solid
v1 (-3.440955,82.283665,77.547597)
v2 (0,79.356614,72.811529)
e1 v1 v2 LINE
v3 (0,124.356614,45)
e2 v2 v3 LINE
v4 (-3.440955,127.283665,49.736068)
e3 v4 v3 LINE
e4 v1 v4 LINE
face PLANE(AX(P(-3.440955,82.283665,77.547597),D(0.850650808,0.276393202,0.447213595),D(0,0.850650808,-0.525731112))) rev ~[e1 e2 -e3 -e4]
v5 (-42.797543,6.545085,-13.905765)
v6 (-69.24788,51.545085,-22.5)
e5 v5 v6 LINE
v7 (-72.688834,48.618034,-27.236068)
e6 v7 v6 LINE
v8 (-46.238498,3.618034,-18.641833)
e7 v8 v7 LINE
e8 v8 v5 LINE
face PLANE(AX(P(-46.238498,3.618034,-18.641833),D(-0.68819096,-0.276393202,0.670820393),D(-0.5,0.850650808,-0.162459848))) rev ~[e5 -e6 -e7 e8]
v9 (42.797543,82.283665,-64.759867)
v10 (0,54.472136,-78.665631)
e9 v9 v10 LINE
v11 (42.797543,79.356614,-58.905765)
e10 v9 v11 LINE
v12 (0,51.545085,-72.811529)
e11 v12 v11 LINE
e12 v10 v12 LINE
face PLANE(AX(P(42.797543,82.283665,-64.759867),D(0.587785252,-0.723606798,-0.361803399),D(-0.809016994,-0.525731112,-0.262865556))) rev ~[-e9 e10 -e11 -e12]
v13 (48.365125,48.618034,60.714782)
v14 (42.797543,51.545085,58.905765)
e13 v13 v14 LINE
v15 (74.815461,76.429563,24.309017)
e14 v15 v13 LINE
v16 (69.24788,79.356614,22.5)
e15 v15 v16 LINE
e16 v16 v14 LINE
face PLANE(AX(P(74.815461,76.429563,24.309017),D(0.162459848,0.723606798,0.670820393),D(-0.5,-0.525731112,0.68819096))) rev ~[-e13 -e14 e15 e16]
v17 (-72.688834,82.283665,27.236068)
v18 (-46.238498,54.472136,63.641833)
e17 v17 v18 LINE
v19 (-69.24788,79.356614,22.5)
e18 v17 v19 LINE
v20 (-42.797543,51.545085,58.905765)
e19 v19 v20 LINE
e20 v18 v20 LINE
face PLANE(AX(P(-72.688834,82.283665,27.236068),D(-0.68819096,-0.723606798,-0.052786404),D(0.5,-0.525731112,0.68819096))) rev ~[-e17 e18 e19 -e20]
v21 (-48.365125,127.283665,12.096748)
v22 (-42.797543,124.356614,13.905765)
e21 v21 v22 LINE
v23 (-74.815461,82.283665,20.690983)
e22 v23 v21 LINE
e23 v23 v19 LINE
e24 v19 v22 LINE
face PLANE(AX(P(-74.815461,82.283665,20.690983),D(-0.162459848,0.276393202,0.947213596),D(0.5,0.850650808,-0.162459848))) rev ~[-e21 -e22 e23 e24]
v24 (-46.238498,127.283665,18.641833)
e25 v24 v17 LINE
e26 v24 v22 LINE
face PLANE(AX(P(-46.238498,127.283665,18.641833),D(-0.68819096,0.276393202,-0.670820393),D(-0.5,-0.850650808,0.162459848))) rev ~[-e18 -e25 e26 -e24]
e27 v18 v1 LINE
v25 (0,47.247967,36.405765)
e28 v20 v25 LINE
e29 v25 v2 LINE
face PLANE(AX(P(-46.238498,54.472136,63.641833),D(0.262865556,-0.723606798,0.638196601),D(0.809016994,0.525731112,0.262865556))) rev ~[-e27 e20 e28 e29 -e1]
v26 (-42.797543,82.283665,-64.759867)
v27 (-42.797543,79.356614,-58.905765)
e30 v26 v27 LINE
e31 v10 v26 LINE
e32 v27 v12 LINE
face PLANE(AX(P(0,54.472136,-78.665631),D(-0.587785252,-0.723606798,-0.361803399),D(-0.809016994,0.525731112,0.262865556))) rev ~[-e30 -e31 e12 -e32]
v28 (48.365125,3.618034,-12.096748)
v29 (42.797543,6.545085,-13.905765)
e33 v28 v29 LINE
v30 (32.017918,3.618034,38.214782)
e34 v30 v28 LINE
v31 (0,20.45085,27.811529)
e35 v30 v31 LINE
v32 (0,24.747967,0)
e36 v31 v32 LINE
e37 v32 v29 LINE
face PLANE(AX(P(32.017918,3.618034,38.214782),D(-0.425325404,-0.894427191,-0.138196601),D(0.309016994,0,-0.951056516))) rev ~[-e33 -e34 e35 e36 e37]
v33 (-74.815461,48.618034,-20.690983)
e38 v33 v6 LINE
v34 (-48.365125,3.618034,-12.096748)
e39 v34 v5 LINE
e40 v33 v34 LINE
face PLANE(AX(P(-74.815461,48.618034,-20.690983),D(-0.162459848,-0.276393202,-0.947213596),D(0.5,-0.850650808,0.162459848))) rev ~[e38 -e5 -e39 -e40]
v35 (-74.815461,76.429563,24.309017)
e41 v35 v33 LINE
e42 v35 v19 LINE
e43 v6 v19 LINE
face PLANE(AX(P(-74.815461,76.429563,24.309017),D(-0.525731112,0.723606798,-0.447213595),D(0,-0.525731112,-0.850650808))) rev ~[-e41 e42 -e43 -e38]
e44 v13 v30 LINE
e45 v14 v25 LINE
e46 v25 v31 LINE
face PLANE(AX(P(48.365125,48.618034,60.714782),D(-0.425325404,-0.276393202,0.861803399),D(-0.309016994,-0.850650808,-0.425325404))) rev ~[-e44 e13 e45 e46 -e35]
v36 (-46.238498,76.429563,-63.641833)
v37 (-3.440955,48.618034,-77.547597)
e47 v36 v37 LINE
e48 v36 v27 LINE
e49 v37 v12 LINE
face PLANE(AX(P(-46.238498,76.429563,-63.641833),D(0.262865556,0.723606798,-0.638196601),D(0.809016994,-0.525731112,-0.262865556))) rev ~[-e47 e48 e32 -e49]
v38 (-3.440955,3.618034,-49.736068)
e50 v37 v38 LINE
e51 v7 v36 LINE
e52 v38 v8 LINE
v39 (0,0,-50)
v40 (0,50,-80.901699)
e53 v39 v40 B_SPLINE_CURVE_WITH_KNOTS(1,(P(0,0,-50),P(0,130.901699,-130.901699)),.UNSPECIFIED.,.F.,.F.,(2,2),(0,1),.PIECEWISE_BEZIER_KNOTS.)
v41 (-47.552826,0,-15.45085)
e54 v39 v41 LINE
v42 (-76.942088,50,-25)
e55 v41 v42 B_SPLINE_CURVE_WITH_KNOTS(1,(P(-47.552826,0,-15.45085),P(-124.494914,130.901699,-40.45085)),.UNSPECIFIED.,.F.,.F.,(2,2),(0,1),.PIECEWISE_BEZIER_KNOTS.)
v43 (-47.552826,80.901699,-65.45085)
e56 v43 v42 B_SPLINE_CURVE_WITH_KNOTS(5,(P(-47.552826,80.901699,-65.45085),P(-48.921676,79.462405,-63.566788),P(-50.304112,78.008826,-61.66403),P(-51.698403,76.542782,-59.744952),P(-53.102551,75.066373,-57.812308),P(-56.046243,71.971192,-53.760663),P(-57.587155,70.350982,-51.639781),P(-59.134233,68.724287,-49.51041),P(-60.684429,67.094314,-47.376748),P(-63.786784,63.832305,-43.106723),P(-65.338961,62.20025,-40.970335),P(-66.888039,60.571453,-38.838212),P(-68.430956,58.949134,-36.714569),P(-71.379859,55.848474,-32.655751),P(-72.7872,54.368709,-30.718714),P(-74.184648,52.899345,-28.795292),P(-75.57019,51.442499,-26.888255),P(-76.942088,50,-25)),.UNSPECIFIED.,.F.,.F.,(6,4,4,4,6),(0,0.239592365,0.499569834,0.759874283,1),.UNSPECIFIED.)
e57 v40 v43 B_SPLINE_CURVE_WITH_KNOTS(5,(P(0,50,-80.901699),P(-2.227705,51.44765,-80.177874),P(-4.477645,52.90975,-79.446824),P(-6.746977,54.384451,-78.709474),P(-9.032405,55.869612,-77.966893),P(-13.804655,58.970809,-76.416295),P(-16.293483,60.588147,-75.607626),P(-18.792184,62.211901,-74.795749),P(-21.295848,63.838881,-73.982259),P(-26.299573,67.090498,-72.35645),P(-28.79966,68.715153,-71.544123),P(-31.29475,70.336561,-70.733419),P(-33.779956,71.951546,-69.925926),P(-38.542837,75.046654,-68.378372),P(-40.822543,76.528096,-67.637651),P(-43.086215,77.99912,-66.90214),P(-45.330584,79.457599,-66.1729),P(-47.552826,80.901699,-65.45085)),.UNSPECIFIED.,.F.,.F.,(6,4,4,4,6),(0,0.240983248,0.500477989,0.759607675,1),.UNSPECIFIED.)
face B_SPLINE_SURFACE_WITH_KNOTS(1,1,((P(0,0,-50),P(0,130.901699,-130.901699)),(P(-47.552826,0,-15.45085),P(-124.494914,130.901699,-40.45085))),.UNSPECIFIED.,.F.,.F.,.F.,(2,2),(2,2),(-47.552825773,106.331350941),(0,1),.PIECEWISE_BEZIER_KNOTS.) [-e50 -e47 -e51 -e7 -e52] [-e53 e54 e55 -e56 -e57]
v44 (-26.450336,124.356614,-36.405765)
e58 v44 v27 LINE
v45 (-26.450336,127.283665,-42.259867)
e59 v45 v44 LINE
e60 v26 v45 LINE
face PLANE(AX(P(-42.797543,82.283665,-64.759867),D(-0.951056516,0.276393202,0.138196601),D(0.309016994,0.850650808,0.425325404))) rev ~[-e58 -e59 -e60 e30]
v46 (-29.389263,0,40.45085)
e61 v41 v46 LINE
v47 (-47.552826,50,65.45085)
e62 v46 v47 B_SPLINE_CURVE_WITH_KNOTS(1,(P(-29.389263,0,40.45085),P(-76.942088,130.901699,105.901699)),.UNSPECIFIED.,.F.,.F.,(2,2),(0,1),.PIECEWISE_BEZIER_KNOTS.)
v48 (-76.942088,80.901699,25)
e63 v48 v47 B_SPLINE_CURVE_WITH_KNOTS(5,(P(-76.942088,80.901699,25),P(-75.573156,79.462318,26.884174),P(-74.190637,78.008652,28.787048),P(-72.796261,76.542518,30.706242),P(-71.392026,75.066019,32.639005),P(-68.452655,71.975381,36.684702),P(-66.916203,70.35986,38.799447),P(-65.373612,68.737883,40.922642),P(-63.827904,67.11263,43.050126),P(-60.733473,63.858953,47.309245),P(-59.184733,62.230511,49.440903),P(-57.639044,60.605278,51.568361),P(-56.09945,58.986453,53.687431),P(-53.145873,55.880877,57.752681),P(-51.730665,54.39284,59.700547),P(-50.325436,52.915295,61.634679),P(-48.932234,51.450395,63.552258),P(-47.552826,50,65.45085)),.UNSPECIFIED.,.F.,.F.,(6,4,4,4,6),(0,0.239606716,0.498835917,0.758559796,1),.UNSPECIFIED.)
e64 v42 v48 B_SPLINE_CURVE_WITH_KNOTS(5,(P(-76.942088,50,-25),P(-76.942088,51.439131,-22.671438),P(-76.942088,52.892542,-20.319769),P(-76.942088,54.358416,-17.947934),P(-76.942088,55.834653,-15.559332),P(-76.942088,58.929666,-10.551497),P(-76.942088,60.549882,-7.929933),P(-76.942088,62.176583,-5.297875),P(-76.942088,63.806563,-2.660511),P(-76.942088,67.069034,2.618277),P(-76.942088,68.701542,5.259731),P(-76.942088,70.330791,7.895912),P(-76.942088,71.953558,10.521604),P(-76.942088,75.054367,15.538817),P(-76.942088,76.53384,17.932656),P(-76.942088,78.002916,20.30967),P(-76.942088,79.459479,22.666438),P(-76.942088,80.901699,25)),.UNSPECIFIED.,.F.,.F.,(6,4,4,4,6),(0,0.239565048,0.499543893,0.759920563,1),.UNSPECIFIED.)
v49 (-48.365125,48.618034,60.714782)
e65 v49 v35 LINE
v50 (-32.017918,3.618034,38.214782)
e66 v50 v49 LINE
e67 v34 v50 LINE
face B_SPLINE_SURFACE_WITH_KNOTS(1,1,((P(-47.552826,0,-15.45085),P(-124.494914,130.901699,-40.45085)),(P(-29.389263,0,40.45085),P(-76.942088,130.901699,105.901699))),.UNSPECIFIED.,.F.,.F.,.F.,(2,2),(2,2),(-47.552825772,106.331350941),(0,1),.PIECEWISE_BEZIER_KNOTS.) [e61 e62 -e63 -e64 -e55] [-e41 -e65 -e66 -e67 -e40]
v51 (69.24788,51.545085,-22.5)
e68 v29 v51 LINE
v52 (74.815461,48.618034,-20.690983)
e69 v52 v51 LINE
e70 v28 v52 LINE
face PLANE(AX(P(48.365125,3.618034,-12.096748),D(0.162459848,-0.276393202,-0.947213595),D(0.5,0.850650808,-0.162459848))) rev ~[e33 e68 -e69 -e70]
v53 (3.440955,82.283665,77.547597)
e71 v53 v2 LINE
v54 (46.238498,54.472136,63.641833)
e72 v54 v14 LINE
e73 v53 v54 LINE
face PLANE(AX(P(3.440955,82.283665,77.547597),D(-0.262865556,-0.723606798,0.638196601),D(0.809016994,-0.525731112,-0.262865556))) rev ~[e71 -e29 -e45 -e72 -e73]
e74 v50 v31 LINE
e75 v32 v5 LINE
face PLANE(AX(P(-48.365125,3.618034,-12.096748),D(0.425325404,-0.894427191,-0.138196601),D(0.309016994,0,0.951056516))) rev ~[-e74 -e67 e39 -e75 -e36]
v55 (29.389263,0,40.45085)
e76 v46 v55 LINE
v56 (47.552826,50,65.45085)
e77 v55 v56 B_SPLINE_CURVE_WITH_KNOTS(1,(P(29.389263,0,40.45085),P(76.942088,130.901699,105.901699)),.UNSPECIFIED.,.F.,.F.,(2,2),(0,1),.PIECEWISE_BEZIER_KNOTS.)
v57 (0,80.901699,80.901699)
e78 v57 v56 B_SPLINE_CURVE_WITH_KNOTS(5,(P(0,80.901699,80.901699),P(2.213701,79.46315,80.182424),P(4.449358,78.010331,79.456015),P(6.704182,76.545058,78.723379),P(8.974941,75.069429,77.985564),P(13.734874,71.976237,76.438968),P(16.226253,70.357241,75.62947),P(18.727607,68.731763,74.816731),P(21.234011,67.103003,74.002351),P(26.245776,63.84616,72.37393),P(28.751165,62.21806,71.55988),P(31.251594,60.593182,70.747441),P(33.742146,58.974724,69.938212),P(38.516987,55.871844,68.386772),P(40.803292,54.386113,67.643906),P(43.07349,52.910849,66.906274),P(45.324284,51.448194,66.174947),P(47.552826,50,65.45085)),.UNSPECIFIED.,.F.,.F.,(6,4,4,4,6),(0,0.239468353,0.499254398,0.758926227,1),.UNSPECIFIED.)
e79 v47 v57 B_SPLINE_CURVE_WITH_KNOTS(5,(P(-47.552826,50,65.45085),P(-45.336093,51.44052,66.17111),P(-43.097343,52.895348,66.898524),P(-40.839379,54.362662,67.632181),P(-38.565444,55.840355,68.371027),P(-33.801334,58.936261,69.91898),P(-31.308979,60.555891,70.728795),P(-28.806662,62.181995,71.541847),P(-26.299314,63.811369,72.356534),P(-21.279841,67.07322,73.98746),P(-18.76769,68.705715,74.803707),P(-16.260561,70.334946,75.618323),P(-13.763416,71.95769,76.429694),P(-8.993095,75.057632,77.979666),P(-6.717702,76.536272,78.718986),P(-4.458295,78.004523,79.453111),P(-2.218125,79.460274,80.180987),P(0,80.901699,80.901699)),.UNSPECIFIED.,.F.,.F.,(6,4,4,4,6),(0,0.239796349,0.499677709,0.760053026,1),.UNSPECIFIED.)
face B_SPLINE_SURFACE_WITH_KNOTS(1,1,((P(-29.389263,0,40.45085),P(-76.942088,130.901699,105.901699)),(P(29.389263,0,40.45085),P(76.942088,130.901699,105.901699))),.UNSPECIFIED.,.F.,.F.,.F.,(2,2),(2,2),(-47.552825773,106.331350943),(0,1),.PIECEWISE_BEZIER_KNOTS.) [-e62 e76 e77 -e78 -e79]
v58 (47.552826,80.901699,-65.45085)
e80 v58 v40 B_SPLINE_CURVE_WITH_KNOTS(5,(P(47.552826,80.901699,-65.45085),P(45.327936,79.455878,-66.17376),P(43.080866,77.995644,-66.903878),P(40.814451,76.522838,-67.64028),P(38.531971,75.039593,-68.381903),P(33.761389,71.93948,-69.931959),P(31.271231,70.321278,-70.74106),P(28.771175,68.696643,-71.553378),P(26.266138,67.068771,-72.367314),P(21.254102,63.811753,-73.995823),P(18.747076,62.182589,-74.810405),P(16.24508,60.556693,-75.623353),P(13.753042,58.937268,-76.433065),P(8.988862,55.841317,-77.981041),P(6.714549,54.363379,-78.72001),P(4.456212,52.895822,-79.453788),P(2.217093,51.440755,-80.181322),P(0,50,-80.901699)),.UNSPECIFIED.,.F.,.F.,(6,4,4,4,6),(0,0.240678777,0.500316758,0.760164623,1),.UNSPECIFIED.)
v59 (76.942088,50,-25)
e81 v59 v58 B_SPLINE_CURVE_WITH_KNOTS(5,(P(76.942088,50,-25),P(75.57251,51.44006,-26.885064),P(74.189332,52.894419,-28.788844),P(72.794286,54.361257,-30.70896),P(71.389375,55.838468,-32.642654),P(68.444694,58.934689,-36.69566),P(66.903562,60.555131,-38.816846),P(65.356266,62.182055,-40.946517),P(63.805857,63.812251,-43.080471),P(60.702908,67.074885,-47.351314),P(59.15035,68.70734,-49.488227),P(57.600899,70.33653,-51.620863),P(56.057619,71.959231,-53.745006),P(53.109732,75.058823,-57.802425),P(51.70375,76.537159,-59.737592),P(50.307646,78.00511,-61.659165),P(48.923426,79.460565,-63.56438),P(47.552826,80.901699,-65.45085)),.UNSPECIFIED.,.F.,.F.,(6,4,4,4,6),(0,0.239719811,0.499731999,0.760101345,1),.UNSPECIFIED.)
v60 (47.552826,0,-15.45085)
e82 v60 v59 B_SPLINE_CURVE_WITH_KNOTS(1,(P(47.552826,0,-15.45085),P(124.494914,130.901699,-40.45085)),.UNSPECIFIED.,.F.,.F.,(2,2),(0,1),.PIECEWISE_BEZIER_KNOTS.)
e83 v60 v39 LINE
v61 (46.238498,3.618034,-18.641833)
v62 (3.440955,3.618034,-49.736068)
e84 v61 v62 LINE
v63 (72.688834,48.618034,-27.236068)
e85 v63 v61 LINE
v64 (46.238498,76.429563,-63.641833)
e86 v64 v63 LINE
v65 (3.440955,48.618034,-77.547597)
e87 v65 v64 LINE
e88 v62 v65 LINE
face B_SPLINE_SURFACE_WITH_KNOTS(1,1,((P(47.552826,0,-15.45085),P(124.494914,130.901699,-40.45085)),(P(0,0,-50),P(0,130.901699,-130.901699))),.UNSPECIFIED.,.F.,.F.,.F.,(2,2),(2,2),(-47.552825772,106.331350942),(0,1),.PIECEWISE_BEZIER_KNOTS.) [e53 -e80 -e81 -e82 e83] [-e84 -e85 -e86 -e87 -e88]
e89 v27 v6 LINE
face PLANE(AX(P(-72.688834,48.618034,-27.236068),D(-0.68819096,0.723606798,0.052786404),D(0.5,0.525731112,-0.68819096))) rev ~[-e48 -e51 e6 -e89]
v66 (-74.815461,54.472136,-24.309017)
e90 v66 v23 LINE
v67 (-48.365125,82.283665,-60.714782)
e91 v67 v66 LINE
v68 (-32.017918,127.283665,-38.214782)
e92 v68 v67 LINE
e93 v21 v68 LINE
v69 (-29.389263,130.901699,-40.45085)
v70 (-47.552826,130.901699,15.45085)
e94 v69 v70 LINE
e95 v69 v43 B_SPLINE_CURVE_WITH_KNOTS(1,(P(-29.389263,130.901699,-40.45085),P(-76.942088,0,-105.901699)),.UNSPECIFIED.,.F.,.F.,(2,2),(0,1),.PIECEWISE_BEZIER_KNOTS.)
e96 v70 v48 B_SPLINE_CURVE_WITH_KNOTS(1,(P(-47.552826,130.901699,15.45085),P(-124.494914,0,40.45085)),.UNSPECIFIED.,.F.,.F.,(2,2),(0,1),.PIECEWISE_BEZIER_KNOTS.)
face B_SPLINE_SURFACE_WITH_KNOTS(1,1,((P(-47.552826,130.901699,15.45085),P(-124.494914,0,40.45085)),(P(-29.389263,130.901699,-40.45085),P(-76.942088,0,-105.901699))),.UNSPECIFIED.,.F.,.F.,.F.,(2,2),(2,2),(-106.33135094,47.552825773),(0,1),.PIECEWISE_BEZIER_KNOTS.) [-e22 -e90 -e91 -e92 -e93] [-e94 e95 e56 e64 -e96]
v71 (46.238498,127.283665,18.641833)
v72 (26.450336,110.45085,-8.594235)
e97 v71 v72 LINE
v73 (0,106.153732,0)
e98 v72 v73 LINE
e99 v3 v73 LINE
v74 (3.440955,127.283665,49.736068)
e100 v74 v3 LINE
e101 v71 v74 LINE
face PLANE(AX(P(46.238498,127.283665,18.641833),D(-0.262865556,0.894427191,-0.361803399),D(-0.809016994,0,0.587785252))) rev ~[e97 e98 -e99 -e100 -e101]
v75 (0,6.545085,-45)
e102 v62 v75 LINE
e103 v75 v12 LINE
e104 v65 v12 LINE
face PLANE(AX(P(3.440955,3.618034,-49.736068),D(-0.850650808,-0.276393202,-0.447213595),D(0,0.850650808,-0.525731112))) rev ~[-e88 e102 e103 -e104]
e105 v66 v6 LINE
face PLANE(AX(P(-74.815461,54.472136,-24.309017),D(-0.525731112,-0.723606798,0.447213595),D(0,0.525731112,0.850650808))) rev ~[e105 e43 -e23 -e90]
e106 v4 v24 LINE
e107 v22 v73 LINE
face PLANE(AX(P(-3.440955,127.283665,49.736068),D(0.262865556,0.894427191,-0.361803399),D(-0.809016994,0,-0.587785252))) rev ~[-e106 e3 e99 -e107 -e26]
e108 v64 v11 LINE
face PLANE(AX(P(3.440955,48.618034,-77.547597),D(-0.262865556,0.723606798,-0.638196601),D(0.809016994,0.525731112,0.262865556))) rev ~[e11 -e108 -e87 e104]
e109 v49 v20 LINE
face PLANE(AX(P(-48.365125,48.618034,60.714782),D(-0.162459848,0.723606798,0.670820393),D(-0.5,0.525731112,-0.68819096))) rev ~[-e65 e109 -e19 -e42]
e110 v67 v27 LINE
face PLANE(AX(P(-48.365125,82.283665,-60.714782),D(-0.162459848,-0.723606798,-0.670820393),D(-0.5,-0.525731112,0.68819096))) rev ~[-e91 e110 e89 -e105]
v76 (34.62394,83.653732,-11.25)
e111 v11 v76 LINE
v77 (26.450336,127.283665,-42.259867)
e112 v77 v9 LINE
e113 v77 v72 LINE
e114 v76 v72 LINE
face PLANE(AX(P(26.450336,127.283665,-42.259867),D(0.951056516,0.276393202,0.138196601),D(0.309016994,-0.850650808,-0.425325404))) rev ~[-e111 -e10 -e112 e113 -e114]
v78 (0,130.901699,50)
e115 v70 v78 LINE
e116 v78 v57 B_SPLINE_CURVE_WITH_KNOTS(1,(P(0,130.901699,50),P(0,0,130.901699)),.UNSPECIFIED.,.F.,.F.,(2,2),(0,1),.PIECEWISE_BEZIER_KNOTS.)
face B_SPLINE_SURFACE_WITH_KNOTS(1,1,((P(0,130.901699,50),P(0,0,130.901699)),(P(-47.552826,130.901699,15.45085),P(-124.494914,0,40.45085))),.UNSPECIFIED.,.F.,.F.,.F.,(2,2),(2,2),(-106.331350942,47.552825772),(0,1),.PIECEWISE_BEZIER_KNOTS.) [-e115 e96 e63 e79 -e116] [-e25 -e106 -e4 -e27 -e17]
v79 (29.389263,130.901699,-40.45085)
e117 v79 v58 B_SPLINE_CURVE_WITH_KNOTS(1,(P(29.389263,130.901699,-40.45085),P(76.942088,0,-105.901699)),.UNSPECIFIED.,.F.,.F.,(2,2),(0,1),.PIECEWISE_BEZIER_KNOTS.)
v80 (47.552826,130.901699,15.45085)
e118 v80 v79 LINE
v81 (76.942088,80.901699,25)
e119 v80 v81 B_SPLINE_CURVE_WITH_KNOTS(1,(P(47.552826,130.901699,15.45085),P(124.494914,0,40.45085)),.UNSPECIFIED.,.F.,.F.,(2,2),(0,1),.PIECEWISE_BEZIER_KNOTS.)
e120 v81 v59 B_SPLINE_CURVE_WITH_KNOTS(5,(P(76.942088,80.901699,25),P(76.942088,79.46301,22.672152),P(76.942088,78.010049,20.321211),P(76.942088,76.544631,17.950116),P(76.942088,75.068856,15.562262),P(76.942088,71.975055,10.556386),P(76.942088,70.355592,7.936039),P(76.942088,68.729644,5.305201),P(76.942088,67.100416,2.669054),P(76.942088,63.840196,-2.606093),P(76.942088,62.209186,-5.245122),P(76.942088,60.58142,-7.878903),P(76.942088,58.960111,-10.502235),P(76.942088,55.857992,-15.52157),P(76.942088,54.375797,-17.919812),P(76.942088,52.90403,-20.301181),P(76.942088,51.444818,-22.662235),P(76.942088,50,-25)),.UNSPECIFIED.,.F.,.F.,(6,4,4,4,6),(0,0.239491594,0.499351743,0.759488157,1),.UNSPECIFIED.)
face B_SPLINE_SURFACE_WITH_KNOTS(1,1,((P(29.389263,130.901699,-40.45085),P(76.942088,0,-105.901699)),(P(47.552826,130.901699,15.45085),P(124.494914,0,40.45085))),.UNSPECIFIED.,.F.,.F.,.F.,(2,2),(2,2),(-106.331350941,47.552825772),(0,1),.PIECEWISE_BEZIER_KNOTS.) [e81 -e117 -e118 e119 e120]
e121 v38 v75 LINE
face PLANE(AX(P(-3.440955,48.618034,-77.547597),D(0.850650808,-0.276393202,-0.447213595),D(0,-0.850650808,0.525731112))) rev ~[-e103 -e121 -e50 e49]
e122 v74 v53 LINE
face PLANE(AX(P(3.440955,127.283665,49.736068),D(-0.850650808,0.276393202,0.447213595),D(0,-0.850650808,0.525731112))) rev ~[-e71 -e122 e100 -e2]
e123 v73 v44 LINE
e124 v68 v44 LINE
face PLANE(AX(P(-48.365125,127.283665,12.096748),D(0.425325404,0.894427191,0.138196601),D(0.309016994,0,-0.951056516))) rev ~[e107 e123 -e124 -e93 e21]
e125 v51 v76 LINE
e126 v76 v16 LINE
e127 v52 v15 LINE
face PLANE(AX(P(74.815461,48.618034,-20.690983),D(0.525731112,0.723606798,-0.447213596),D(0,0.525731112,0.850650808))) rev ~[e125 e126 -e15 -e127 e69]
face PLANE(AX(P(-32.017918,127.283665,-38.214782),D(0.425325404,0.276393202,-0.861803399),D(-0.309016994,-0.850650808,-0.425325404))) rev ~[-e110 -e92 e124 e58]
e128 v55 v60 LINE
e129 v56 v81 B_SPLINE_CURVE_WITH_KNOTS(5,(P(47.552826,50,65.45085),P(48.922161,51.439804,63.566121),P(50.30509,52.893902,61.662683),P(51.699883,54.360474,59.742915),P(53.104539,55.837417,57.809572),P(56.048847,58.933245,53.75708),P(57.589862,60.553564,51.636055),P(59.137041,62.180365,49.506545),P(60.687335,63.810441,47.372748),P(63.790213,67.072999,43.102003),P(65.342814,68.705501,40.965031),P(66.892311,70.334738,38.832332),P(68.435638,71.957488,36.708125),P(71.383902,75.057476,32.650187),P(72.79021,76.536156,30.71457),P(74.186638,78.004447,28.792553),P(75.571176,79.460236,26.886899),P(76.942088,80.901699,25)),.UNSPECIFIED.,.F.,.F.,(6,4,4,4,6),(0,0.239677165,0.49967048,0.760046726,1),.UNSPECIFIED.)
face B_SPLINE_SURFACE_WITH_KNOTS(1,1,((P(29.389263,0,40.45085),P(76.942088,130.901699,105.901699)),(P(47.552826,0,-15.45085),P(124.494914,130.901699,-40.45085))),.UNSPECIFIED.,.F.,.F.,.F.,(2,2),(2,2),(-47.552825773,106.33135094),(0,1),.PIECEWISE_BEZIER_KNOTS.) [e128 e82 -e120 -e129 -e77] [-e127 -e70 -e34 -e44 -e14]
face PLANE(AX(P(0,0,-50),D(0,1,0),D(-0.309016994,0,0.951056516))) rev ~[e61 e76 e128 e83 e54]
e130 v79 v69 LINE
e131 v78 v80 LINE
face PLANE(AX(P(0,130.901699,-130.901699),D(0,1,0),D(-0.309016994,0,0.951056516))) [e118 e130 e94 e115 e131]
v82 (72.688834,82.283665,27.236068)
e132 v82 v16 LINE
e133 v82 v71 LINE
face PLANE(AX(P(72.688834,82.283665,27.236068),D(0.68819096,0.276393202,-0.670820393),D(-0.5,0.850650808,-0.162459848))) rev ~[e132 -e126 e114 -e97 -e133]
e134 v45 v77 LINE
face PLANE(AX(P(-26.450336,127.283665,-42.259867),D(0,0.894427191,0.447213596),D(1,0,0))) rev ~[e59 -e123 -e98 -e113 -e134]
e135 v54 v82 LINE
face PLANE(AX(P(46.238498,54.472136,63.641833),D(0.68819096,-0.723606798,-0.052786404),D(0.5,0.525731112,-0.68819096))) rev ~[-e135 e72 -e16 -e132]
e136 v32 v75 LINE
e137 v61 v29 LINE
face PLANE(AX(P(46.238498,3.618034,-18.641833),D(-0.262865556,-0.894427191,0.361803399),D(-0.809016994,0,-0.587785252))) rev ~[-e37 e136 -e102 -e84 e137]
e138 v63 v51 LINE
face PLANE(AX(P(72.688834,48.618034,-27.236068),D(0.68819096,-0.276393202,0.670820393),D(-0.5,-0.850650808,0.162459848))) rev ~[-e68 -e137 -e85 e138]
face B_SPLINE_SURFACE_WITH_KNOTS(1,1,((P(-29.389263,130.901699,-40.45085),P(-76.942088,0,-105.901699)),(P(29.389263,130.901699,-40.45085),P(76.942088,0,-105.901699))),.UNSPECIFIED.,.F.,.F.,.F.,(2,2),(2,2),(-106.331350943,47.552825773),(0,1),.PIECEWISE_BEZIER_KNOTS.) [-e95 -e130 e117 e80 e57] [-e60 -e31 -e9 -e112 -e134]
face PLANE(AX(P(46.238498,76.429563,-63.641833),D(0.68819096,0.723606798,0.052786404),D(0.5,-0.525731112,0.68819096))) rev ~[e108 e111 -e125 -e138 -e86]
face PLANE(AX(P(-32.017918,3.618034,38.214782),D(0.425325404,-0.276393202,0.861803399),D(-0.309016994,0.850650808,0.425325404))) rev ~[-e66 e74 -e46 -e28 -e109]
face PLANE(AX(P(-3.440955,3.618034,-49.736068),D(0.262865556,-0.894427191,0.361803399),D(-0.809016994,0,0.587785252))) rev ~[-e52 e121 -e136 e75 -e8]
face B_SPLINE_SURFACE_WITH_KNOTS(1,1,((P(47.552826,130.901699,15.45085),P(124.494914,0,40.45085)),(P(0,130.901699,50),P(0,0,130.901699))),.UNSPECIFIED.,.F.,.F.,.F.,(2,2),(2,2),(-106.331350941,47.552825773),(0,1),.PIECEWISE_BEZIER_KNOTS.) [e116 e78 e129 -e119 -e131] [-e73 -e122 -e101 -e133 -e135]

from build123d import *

# Parameters (mm, degrees)
CREATION_EXTRUDE_DEPTH = 130.901699304
CREATION_EXTRUDE_TAPER = -26.56505118
SKETCH2_OUTSIDE_W      = 455.432
SKETCH2_OUTSIDE_H      = 443.246
CREATION_CUT_DEPTH     = 130.901699304
CREATION_CUT_TAPER     = 26.56505118
CUT_EXTRUDE_B_DEPTH    = 50.8
C_INV_DEPTH            = 50.8
CUT_EXTRUDE_D_DEPTH    = 50.8
D_INV_DEPTH            = 50.8
CUT_EXTRUDE_E_DEPTH    = 50.8
E_INV_DEPTH            = 50.8
CUT_EXTRUDE_F_DEPTH    = 50.8
F_INV_DEPTH            = 50.8


with BuildPart() as part:
    # Sketch1 → creation_extrude (new body)
    with BuildSketch(Plane(origin=(0, 0, 0), x_dir=(1, 0, 0), z_dir=(0, 1, 0))):
        Polygon((0, 49.999999949), (-47.552825766, 15.450849703), (-29.389262585, -40.450849677), (29.389262585, -40.450849677), (47.552825766, 15.450849703), align=None)
    extrude(amount=CREATION_EXTRUDE_DEPTH, taper=CREATION_EXTRUDE_TAPER)

    # Sketch2 outside → creation_cut (cut)
    with BuildSketch(Plane(origin=(0, 130.901699304, 0), x_dir=(1, 0, 0), z_dir=(0, 1, 0))):
        with Locations((0, 12.5)):
            Rectangle(SKETCH2_OUTSIDE_W, SKETCH2_OUTSIDE_H)
        Polygon((0, -49.999999949), (47.552825766, -15.450849703), (29.389262585, 40.450849677), (-29.389262585, 40.450849677), (-47.552825766, -15.450849703), align=None, mode=Mode.SUBTRACT)
    extrude(amount=-CREATION_CUT_DEPTH, taper=CREATION_CUT_TAPER, mode=Mode.SUBTRACT)

    # Sketch5 → Cut-Extrude B (cut)
    with BuildSketch(Plane(origin=(0, 42.360679738, -84.721359466), x_dir=(-1, 0, 0), z_dir=(-9.08060963965006e-15, 0.4472135955455734, -0.8944271909771081))):
        Polygon((-42.797543189, 44.635254864), (1e-09, 13.541019643), (42.79754319, 44.635254866), (26.450336325, 94.946784308), (-26.450336327, 94.946784307), align=None)
    extrude(amount=-CUT_EXTRUDE_B_DEPTH, mode=Mode.SUBTRACT)

    # Sketch8 → C_inv (cut)
    with BuildSketch(Plane(origin=(-30.776835339, -16.180339872, 9.999999989), x_dir=(0.2446443083020028, 0.12861712429362696, 0.9610446387935747), z_dir=(-0.8506508083303469, -0.4472135955455736, 0.27639320224297786))):
        Polygon((-31.935023341, 77.848060657), (-22.992425992, 25.708717357), (29.358450763, 18.101689683), (52.77047459, 65.539631327), (14.889024305, 102.464919293), align=None)
    extrude(amount=-C_INV_DEPTH, mode=Mode.SUBTRACT)

    # Sketch9 → Cut-Extrude D (cut)
    with BuildSketch(Plane(origin=(49.797965648, 42.360679738, 68.541019594), x_dir=(0.8506508083603209, -0.27639320226847824, -0.44721359547279954), z_dir=(0.5257311121057348, 0.44721359554557366, 0.7236067977315217))):
        Polygon((-4.184405192, 98.473361345), (-54.495934634, 82.126154482), (-54.495934634, 29.22548183), (-4.184405192, 12.878274966), (26.90983003, 55.675818156), align=None)
    extrude(amount=-CUT_EXTRUDE_D_DEPTH, mode=Mode.SUBTRACT)

    # Sketch10 → D_inv (cut)
    with BuildSketch(Plane(origin=(-19.021130306, -16.180339872, -26.180339859), x_dir=(-0.8506508083603233, 0.27639320226847536, 0.44721359547279665), z_dir=(-0.5257311121057309, -0.44721359554557344, -0.7236067977315247))):
        Polygon((31.995934659, 98.473361351), (-18.315594783, 82.126154488), (-18.315594783, 29.225481836), (31.995934659, 12.878274972), (63.090169881, 55.675818162), align=None)
    extrude(amount=-D_INV_DEPTH, mode=Mode.SUBTRACT)

    # Sketch11 → Cut-Extrude E (cut)
    with BuildSketch(Plane(origin=(-49.797965648, 42.360679738, 68.541019594), x_dir=(0.8506508083603298, 0.2763932022684677, 0.447213595472789), z_dir=(-0.5257311121057203, 0.44721359554557355, 0.7236067977315324))):
        Polygon((4.184405192, 98.473361345), (-26.90983003, 55.675818156), (4.184405192, 12.878274966), (54.495934634, 29.22548183), (54.495934634, 82.126154482), align=None)
    extrude(amount=-CUT_EXTRUDE_E_DEPTH, mode=Mode.SUBTRACT)

    # Sketch12 → E_inv (cut)
    with BuildSketch(Plane(origin=(19.021130306, -16.180339872, -26.180339859), x_dir=(-0.8506508083603274, -0.27639320226847064, -0.44721359547279194), z_dir=(0.5257311121057243, -0.44721359554557355, -0.7236067977315294))):
        Polygon((-31.99593466, 98.473361351), (-63.090169881, 55.67581816), (-31.995934658, 12.878274972), (18.315594784, 29.225481837), (18.315594782, 82.126154489), align=None)
    extrude(amount=-E_INV_DEPTH, mode=Mode.SUBTRACT)

    # Sketch13 → Cut-Extrude F (cut)
    with BuildSketch(Plane(origin=(-80.574800989, 42.360679738, -26.180339862), x_dir=(-0.24464430830199108, 0.12861712429362016, 0.9610446387935785), z_dir=(-0.8506508083303513, 0.4472135955455735, -0.2763932022429644))):
        Polygon((-12.522250637, 97.763517637), (-35.934274461, 50.325575991), (1.947175826, 13.400288027), (48.771223471, 38.017146666), (39.828626119, 90.156489966), align=None)
    extrude(amount=-CUT_EXTRUDE_F_DEPTH, mode=Mode.SUBTRACT)

    # Sketch14 → F_inv (cut)
    with BuildSketch(Plane(origin=(30.776835339, -16.180339872, 9.999999989), x_dir=(0.2446443083019939, -0.12861712429362177, -0.9610446387935776), z_dir=(0.8506508083303502, -0.4472135955455736, 0.2763932022429676))):
        Polygon((-29.358450768, 18.101689686), (22.992425988, 25.708717353), (31.935023344, 77.848060652), (-14.889024299, 102.464919294), (-52.770474589, 65.539631333), align=None)
    extrude(amount=-F_INV_DEPTH, mode=Mode.SUBTRACT)


with BuildPart() as body_2:
    # of the pieces the cut leaves, the one that is kept (f_inv_keep)
    add(part.part.solids().sort_by_distance((0, 0, -49.999999949))[0])


solid = body_2.part
